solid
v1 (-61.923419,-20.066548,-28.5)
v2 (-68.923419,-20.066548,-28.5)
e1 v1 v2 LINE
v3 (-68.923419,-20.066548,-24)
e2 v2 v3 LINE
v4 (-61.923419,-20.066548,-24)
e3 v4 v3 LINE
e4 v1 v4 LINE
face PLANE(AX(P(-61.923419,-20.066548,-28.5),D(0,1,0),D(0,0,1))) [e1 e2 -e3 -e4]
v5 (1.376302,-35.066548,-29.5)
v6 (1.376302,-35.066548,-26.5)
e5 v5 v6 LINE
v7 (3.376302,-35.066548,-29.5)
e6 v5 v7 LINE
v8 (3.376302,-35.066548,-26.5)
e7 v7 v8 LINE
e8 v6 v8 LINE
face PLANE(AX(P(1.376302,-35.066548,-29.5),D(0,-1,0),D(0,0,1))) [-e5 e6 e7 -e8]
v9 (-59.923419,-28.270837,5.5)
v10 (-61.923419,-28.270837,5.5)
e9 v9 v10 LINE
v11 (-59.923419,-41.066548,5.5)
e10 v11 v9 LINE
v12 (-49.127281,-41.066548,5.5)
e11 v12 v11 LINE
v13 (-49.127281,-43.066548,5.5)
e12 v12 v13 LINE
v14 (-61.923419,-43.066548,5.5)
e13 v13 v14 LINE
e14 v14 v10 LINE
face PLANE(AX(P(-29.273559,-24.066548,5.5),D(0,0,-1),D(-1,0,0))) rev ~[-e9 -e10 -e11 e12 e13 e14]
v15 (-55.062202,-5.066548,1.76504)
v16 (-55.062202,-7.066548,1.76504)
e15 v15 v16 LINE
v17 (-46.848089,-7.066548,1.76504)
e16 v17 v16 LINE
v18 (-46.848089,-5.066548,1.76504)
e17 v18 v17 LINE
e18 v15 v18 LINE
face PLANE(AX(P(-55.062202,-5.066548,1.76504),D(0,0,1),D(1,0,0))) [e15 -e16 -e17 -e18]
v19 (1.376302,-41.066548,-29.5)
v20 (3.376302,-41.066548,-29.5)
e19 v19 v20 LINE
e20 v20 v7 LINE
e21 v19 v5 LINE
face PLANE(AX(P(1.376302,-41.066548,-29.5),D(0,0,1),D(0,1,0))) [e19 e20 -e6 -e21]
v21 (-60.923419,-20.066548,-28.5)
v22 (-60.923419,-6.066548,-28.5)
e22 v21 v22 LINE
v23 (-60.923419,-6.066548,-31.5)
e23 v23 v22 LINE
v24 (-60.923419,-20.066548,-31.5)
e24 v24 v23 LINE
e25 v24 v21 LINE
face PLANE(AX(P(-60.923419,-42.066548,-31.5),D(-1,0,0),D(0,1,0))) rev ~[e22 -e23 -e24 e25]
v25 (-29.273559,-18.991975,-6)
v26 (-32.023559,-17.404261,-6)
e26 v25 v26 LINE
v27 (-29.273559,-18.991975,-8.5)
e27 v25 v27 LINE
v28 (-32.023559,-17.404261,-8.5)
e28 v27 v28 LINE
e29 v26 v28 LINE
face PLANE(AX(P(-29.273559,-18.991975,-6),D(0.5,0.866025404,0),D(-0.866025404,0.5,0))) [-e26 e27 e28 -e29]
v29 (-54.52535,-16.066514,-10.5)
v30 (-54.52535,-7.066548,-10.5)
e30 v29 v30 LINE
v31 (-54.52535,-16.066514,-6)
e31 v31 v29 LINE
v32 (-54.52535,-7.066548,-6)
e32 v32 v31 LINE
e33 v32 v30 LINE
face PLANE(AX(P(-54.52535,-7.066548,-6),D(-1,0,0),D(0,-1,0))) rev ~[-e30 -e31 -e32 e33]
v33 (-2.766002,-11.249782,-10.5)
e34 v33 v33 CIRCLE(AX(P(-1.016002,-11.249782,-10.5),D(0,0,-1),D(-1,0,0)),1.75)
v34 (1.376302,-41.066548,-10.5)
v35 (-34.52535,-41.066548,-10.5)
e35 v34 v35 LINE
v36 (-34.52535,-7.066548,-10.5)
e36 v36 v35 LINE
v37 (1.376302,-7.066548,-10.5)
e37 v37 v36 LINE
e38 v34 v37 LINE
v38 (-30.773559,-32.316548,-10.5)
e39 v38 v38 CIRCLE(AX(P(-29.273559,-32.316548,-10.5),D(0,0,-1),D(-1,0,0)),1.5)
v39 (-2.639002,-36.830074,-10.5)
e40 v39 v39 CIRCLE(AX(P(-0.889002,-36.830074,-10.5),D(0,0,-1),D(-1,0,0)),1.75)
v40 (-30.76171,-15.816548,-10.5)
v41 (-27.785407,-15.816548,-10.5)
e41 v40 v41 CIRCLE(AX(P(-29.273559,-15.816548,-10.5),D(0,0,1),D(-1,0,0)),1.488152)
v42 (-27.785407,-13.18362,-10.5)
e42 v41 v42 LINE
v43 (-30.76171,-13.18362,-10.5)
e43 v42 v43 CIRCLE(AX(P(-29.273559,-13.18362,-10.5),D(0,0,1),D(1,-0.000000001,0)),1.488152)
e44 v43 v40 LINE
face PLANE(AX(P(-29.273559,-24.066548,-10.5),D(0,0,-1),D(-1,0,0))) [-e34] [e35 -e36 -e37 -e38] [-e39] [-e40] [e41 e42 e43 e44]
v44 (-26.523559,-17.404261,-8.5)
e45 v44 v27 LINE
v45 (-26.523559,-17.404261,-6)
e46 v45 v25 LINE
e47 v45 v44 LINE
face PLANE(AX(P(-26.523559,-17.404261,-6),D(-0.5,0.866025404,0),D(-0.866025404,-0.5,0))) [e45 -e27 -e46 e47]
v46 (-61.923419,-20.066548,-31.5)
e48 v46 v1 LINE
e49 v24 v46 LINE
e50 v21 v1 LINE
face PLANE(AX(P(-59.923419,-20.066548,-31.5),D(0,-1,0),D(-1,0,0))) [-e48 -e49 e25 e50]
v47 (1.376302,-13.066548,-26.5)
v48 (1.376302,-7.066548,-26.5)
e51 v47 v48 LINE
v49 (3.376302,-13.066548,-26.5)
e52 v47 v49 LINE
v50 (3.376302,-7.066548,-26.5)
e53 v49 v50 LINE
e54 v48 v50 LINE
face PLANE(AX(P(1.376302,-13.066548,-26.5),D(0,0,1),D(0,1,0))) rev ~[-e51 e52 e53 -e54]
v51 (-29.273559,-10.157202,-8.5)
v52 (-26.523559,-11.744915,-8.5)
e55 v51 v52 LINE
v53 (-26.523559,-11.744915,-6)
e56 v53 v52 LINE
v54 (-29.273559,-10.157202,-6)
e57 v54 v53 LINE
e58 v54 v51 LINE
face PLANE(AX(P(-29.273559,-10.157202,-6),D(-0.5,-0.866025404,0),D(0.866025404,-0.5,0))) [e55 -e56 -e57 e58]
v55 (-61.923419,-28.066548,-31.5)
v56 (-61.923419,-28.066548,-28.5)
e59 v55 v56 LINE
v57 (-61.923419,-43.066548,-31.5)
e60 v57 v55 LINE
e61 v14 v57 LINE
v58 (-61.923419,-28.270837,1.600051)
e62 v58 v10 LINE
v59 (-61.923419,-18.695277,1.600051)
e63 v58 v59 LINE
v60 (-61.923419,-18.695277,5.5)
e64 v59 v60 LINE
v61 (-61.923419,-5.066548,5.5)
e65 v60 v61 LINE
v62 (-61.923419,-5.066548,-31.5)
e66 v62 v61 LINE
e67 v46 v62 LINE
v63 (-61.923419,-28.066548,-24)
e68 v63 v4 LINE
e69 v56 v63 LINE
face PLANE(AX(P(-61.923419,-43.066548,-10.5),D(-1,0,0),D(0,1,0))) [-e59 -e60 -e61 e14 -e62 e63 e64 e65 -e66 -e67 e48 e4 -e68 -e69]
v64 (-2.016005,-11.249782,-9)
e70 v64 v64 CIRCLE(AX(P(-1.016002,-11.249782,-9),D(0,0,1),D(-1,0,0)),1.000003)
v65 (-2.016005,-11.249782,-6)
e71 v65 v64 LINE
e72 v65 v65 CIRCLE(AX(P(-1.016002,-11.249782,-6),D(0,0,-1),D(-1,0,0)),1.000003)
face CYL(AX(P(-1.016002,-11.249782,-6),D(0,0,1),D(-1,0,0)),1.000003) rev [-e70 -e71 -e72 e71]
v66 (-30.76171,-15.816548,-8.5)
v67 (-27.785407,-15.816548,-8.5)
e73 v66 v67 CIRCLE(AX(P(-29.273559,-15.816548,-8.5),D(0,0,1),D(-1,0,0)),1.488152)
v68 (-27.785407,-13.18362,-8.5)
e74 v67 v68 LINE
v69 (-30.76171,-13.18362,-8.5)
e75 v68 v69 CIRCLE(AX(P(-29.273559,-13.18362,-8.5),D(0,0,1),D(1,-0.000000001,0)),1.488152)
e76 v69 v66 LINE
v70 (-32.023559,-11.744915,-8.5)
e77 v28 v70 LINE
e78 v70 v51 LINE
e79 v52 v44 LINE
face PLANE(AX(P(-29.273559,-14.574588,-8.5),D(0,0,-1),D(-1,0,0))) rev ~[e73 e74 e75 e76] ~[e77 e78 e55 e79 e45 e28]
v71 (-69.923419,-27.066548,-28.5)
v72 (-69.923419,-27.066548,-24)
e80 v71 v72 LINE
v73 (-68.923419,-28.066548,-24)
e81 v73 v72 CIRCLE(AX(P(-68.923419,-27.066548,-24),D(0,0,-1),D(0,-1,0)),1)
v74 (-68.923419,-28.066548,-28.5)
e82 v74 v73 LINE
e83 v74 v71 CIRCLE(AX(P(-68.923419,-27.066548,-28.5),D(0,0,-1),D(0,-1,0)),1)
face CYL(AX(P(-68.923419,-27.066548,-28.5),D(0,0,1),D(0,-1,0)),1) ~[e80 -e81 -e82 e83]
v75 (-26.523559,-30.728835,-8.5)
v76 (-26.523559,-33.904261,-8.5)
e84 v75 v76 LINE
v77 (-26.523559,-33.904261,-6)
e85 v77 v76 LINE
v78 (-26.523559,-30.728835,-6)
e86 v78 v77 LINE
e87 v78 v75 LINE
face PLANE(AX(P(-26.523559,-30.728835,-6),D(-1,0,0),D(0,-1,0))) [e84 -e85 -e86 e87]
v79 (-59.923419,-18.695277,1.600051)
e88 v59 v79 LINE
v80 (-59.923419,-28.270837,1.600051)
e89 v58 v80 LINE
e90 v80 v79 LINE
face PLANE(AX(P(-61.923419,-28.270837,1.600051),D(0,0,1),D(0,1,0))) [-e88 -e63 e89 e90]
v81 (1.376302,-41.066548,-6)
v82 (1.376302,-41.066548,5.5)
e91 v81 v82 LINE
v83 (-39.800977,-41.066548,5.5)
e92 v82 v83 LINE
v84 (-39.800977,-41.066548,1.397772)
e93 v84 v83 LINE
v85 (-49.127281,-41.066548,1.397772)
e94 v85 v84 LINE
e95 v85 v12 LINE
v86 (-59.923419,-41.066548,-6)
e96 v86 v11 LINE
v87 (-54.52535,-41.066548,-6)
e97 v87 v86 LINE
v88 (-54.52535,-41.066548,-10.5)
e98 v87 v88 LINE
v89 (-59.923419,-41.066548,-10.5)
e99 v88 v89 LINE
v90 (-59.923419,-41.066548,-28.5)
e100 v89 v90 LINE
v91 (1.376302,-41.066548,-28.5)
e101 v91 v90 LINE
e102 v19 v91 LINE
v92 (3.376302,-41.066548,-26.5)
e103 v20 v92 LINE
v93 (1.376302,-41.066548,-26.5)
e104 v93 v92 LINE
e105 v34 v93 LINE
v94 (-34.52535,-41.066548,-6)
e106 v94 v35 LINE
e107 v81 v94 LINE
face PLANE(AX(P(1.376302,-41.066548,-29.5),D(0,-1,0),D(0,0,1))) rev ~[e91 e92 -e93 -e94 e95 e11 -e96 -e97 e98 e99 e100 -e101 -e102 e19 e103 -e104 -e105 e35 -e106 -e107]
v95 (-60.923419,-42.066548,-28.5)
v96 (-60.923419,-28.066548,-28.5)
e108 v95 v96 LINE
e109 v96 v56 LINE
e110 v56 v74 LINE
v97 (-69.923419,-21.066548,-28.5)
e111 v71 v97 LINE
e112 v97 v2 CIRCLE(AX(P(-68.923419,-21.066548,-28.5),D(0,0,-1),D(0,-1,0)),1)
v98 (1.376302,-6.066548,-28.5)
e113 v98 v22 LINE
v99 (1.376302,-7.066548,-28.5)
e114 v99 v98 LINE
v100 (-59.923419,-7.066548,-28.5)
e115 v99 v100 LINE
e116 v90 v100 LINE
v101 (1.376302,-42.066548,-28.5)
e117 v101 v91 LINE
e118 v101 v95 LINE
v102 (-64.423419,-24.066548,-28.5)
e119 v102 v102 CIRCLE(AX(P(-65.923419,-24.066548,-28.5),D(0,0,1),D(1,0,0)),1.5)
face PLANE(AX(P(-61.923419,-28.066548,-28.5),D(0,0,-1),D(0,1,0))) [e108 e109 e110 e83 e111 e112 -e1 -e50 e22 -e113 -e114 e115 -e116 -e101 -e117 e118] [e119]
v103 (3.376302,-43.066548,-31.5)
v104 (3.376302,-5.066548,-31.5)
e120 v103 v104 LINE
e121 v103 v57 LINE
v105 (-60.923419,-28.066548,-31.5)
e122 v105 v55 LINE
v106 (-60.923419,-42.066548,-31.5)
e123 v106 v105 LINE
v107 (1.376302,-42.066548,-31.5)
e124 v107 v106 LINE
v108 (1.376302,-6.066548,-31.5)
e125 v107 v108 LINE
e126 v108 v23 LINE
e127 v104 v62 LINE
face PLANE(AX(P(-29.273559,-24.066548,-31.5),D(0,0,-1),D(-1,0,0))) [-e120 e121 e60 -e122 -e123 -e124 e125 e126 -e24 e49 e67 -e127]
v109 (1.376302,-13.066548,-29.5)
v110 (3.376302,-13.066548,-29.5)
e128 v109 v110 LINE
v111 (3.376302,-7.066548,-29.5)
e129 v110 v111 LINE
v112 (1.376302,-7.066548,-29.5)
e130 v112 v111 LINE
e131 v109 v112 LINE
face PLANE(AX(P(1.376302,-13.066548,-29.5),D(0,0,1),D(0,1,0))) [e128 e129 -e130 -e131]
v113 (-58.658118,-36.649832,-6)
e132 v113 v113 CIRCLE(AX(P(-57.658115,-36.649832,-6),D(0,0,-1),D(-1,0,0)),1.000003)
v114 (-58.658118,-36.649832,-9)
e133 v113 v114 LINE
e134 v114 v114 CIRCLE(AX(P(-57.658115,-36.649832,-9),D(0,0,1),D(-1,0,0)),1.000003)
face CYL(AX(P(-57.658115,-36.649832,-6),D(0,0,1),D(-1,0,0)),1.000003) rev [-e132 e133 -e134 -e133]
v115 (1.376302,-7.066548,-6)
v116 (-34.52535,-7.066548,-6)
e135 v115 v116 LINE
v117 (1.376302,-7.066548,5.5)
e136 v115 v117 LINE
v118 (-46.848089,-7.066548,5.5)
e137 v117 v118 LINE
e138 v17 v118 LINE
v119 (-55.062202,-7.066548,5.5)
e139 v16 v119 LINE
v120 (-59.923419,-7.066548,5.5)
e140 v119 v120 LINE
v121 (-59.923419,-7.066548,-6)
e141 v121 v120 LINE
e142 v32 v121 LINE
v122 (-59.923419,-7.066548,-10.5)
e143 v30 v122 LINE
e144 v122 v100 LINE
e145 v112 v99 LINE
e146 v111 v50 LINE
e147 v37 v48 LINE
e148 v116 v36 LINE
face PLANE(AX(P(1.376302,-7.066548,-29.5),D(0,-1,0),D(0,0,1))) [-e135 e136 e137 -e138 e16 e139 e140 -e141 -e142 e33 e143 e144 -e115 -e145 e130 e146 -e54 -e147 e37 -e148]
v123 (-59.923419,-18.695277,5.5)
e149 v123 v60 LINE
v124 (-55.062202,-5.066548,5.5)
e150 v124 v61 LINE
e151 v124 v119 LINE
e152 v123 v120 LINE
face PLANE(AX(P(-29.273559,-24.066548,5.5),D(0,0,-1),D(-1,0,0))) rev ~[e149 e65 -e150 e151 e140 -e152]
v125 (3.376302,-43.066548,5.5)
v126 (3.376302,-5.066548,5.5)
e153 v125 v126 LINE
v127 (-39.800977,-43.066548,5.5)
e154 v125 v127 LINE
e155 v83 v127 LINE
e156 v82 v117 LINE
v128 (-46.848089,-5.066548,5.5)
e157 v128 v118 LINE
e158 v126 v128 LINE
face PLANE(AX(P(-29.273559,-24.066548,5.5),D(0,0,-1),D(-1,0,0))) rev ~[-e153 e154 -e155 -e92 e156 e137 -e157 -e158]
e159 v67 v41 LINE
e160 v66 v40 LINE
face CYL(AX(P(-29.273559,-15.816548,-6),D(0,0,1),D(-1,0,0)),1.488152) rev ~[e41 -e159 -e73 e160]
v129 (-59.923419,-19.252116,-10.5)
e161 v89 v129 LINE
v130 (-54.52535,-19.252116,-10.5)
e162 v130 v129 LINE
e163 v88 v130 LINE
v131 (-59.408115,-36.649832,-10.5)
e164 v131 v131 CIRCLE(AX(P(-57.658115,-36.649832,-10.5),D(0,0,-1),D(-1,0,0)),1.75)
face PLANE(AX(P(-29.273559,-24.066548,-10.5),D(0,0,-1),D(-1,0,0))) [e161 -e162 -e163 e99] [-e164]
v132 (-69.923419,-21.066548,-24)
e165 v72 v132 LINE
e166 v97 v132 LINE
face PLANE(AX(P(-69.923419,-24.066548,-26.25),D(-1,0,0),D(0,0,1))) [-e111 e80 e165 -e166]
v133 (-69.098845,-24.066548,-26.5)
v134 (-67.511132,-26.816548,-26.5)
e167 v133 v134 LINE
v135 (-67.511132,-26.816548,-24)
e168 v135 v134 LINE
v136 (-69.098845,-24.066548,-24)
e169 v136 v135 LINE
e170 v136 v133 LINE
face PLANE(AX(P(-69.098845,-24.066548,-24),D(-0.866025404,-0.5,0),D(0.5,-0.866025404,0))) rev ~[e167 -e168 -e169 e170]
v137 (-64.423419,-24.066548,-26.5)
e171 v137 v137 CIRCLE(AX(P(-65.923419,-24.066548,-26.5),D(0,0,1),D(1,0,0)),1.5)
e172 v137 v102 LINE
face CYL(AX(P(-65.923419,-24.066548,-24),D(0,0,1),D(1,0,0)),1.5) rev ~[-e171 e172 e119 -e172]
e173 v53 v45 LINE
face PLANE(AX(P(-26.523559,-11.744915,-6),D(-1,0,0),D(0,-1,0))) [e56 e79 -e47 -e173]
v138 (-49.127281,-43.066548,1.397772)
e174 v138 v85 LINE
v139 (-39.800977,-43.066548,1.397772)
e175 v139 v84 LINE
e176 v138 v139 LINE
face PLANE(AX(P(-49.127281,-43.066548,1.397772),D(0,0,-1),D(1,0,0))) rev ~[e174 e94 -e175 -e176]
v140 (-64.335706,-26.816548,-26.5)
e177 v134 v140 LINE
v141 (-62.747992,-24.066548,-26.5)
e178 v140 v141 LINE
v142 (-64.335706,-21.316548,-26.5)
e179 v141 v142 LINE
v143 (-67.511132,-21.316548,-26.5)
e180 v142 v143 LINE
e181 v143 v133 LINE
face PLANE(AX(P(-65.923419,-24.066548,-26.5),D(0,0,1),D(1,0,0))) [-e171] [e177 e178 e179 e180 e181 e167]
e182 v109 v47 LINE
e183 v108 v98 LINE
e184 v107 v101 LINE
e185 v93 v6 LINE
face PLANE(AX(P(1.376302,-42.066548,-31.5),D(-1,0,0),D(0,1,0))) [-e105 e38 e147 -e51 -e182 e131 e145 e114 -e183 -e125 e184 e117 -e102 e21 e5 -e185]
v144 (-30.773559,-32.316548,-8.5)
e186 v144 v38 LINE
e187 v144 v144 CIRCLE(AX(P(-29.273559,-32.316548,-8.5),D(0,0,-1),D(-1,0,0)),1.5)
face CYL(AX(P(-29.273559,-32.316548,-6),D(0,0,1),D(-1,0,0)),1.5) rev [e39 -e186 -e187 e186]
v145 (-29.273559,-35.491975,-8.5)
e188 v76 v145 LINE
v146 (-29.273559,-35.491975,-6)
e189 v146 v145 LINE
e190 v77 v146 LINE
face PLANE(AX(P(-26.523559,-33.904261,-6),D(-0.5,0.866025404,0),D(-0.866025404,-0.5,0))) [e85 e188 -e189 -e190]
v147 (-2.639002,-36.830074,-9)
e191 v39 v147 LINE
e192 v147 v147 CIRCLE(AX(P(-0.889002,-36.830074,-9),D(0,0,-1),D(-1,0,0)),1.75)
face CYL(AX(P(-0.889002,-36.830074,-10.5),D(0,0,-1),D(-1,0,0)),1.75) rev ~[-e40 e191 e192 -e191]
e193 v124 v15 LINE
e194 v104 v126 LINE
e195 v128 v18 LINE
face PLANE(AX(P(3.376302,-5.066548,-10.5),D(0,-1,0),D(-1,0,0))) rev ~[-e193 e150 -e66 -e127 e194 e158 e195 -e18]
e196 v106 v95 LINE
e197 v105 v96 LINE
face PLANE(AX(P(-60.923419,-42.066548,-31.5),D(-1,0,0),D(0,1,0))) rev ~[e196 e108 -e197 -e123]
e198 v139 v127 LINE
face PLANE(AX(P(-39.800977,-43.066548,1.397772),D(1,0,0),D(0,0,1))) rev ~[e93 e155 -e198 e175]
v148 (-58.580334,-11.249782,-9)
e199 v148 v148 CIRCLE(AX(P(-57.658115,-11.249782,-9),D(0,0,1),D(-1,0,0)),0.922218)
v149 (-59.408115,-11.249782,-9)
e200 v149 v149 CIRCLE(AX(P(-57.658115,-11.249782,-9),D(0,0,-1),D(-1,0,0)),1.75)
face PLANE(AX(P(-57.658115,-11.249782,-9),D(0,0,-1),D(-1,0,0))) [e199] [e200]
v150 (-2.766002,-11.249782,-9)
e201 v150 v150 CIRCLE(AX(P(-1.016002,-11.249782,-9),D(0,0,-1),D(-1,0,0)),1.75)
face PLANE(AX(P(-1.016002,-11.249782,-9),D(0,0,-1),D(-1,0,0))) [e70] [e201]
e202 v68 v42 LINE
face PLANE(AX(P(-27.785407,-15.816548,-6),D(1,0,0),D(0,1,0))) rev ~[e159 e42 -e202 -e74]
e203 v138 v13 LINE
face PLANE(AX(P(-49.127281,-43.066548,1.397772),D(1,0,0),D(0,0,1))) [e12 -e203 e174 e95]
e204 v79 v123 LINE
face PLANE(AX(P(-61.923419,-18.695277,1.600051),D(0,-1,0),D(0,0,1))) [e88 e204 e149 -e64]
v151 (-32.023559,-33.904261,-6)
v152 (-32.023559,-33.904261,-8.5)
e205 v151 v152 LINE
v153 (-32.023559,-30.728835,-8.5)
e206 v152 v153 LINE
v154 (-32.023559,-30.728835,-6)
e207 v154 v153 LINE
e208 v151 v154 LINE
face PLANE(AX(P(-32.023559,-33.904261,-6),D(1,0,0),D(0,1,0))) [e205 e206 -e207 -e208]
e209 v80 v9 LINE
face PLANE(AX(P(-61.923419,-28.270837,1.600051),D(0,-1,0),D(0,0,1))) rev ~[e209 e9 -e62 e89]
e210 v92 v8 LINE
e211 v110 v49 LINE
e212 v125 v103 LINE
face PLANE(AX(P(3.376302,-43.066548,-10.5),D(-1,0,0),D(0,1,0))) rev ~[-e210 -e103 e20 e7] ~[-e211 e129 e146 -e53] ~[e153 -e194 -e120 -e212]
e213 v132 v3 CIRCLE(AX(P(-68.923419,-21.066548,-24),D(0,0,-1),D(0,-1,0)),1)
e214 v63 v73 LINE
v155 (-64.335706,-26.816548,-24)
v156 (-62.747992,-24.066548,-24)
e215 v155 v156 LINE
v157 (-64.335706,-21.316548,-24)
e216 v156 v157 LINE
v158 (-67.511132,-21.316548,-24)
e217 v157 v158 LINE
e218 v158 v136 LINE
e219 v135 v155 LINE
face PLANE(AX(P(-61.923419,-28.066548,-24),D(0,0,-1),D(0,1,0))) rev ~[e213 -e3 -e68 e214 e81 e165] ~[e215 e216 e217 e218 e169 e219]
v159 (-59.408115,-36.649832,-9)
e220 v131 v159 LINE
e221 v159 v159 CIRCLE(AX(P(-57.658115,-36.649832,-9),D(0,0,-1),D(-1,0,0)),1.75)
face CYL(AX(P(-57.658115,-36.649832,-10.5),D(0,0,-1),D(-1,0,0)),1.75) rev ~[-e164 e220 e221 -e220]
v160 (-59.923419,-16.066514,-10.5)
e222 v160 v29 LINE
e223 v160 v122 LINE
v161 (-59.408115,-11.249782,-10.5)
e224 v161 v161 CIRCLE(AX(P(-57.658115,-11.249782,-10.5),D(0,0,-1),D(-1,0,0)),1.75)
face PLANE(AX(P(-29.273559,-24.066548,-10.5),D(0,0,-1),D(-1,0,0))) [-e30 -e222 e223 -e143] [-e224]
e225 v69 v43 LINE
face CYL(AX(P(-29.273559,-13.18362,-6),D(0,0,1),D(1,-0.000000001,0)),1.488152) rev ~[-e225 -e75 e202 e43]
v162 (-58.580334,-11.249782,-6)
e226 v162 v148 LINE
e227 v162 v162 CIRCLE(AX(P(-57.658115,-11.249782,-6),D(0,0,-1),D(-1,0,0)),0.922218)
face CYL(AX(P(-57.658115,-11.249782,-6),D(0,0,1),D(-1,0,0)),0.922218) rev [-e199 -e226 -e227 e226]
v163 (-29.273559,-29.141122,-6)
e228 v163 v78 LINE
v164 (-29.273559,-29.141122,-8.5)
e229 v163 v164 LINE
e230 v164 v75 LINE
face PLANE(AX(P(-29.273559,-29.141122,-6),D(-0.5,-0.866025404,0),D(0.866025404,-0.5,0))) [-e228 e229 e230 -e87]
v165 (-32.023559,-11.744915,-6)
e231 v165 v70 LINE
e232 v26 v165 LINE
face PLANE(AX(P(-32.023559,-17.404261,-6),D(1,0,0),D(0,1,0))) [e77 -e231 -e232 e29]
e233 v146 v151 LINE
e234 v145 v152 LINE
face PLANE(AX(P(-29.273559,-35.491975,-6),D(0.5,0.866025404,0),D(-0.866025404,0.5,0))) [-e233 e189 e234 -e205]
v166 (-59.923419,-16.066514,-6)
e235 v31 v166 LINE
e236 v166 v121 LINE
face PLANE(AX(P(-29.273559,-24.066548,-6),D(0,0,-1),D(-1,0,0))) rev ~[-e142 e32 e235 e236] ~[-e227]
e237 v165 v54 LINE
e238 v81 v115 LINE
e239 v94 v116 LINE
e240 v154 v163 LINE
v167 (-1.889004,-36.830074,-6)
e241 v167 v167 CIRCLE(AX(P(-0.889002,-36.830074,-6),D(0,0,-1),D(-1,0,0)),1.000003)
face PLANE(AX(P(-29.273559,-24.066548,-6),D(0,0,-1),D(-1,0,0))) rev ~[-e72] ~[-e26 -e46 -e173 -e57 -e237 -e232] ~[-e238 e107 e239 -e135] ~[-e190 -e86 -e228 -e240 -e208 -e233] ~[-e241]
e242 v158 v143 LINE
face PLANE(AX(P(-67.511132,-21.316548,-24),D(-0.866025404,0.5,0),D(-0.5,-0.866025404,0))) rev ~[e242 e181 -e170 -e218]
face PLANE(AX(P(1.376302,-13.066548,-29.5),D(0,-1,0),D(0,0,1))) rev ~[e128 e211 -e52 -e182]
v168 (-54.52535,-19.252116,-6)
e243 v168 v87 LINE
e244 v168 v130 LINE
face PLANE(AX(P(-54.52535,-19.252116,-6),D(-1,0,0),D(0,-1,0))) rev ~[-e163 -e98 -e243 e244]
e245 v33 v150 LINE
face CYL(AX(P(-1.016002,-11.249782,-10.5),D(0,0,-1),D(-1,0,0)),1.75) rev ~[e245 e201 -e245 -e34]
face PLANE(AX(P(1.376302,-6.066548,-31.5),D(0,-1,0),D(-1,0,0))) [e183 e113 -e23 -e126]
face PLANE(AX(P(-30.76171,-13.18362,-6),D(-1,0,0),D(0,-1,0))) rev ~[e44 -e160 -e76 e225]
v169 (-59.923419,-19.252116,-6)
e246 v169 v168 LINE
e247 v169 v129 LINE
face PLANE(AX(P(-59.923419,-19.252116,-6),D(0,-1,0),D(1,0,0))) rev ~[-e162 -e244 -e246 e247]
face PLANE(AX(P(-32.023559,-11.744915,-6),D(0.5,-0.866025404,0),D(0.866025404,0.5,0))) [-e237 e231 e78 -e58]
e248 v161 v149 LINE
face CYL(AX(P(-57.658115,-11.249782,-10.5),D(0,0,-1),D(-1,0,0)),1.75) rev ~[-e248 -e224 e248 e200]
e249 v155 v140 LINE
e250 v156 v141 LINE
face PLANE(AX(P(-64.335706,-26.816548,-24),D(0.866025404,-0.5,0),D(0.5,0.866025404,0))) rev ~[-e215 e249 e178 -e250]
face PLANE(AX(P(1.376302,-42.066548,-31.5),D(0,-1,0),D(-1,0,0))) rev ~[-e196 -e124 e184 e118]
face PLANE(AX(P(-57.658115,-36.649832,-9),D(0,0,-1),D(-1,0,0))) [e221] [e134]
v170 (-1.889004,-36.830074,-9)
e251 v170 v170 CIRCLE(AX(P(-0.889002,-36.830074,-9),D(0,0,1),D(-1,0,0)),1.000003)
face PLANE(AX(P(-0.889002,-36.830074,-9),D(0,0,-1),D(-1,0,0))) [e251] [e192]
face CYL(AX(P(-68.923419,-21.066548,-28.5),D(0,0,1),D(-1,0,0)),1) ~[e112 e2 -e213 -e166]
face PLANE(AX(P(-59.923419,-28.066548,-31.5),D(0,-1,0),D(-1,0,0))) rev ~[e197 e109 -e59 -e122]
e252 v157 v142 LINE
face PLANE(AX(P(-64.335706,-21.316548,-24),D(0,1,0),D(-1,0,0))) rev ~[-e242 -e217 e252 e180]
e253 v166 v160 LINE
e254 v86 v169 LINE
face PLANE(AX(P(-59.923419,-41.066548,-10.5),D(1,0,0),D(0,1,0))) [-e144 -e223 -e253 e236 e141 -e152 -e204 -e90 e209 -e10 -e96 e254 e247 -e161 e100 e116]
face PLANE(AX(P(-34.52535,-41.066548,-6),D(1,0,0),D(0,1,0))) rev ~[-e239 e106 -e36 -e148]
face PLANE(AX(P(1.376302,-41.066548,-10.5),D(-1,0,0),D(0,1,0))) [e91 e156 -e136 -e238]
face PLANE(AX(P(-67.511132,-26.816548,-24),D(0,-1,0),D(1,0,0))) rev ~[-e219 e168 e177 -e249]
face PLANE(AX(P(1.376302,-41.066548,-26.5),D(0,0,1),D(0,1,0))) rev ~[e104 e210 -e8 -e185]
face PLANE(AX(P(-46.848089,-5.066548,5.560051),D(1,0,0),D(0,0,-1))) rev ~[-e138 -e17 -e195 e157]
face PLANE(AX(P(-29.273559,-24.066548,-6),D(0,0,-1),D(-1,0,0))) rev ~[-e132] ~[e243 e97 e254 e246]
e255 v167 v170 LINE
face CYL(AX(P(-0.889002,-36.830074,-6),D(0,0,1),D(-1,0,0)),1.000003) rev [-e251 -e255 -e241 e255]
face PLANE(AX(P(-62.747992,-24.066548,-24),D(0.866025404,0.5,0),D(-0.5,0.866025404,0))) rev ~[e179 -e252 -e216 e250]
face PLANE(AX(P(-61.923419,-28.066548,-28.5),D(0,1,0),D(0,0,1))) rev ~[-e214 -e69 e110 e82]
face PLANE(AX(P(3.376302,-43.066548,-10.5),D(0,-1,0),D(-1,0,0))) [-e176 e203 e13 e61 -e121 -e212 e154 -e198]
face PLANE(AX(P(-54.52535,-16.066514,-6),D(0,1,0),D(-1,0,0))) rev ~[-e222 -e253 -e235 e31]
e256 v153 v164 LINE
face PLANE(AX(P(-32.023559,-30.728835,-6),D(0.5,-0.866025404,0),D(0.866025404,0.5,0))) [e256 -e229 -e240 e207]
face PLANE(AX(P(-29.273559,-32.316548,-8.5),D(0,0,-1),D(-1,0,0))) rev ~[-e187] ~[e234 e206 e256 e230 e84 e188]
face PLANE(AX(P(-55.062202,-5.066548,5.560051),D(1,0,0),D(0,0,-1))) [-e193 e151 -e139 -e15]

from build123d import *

# Parameters (mm, degrees)
SKETCH_2_W           = 65.2997206
SKETCH_2_H           = 38
SKETCH_2_R           = 1.00000254
SKETCH_2_R_2         = 0.922218434
SKETCH_2_R_3         = 1.5
EXTRUDE_2_DEPTH      = 4.5
SKETCH_3_R           = 1.5
CUT_EXTRUDE_2_DEPTH  = 2.5
SKETCH_5_W           = 65.2997206
SKETCH_5_H           = 38
SKETCH_5_W_2         = 61.2997206
SKETCH_5_H_2         = 34
EXTRUDE_3_DEPTH      = 21
EXTRUDE_3_DEPTH_BACK = 16
SKETCH_7_W           = 8.214112973
SKETCH_7_H           = 3.795011114
CUT_EXTRUDE_4_DEPTH  = 3
SKETCH_8_W           = 4
SKETCH_8_H           = 9.575559499
CUT_EXTRUDE_5_DEPTH  = 3
SKETCH_9_W           = 9.326303795
SKETCH_9_H           = 4.202278939
CUT_EXTRUDE_6_DEPTH  = 3
CUT_EXTRUDE_7_DEPTH  = 10
SKETCH_15_R          = 1.75
CUT_EXTRUDE_8_DEPTH  = 1.5
SKETCH_18_W          = 62.2997206
SKETCH_18_H          = 36
CUT_EXTRUDE_9_DEPTH  = 3
SKETCH_19_W          = 3
SKETCH_19_H          = 6
CUT_EXTRUDE_10_DEPTH = 2
SKETCH_20_W          = 2
SKETCH_20_H          = 8
CUT_EXTRUDE_11_DEPTH = 3
SKETCH_21_W          = 4.5
SKETCH_21_H          = 8
EXTRUDE_4_DEPTH      = 8
SKETCH_22_R          = 1.5
CUT_EXTRUDE_12_DEPTH = 10
CUT_EXTRUDE_13_DEPTH = 2.5
FILLET_1_R           = 1


with BuildPart() as part:
    # 草图2 → 凸台-拉伸2 (new body)
    with BuildSketch(Plane(origin=(0, 0, -6), x_dir=(-1, 0, 0), z_dir=(0, 0, -1))):
        with Locations((29.273558547, -24.066548133)):
            Rectangle(SKETCH_2_W, SKETCH_2_H)
        with Locations((1.016002032, -11.24978156)):
            Circle(SKETCH_2_R, mode=Mode.SUBTRACT)
        with Locations((0.889001778, -36.83007366)):
            Circle(SKETCH_2_R, mode=Mode.SUBTRACT)
        with Locations((57.658115316, -36.64983236)):
            Circle(SKETCH_2_R, mode=Mode.SUBTRACT)
        with Locations((57.658115316, -11.24978156)):
            Circle(SKETCH_2_R_2, mode=Mode.SUBTRACT)
        with Locations((29.273558547, -32.316548133)):
            Circle(SKETCH_2_R_3, mode=Mode.SUBTRACT)
        with BuildLine():
            Line((27.785407033, -15.816548133), (27.785407033, -13.183619987))
            ThreePointArc((27.785407033, -13.183619987), (29.273558547, -11.695468472), (30.761710061, -13.183619987))
            Line((30.761710061, -13.183619987), (30.761710061, -15.816548133))
            ThreePointArc((30.761710061, -15.816548133), (29.273558547, -17.304699647), (27.785407033, -15.816548133))
        make_face(mode=Mode.SUBTRACT)
    extrude(amount=EXTRUDE_2_DEPTH)

    # 草图3 → 切除-拉伸2 (cut)
    with BuildSketch(Plane(origin=(0, 0, -6), x_dir=(-1, 0, 0), z_dir=(0, 0, -1))):
        Polygon((29.273558547, -18.991974614), (32.023558547, -17.404261373), (32.023558547, -14.920341582), (32.023558547, -14.228834893), (32.023558547, -11.744915102), (29.273558547, -10.157201862), (26.523558547, -11.744915102), (26.523558547, -14.228834893), (26.523558547, -14.920341582), (26.523558547, -17.404261373), align=None)
        with BuildLine():
            ThreePointArc((30.761710061, -15.816548133), (29.273558547, -17.304699647), (27.785407033, -15.816548133))
            Line((27.785407033, -15.816548133), (27.785407033, -13.183619987))
            ThreePointArc((27.785407033, -13.183619987), (29.273558547, -11.695468472), (30.761710061, -13.183619987))
            Line((30.761710061, -13.183619987), (30.761710061, -15.816548133))
        make_face(mode=Mode.SUBTRACT)
        Polygon((26.523558547, -30.728834893), (26.523558547, -33.904261373), (29.273558547, -35.491974614), (32.023558547, -33.904261373), (32.023558547, -30.728834893), (29.273558547, -29.141121653), align=None)
        with Locations((29.273558547, -32.316548133)):
            Circle(SKETCH_3_R, mode=Mode.SUBTRACT)
    extrude(amount=CUT_EXTRUDE_2_DEPTH, mode=Mode.SUBTRACT)

    # 草图5 → 凸台-拉伸3 (add, two sides)
    with BuildSketch(Plane(origin=(0, 0, -10.5), x_dir=(-1, 0, 0), z_dir=(0, 0, -1))) as extrude_3_sk:
        with Locations((29.273558547, -24.066548133)):
            Rectangle(SKETCH_5_W, SKETCH_5_H)
        with Locations((29.273558547, -24.066548133)):
            Rectangle(SKETCH_5_W_2, SKETCH_5_H_2, mode=Mode.SUBTRACT)
    extrude(amount=EXTRUDE_3_DEPTH)
    extrude(extrude_3_sk.sketch, amount=-EXTRUDE_3_DEPTH_BACK)

    # 草图7 → 切除-拉伸4 (cut)
    with BuildSketch(Plane(origin=(0, -5.066548133, 0), x_dir=(1, 0, 0), z_dir=(0, 1, 0))):
        with Locations((-50.955145133, -3.662545243)):
            Rectangle(SKETCH_7_W, SKETCH_7_H)
    extrude(amount=-CUT_EXTRUDE_4_DEPTH, mode=Mode.SUBTRACT)

    # 草图8 → 切除-拉伸5 (cut)
    with BuildSketch(Plane.ZY.offset(61.923418847)):
        with Locations((3.6000508, -23.483057223)):
            Rectangle(SKETCH_8_W, SKETCH_8_H)
    extrude(amount=-CUT_EXTRUDE_5_DEPTH, mode=Mode.SUBTRACT)

    # 草图9 → 切除-拉伸6 (cut)
    with BuildSketch(Plane.XZ.offset(43.066548133)):
        with Locations((-44.464129124, 3.49891133)):
            Rectangle(SKETCH_9_W, SKETCH_9_H)
    extrude(amount=-CUT_EXTRUDE_6_DEPTH, mode=Mode.SUBTRACT)

    # 草图13 → 切除-拉伸7 (cut)
    with BuildSketch(Plane.XY.offset(-6)):
        Polygon((-59.923418847, -16.066514367), (-59.923418847, -19.252115931), (-54.525349934, -19.252115931), (-54.525349934, -41.066548133), (-34.525349934, -41.066548133), (-34.525349934, -7.066548133), (-54.525349934, -7.066548133), (-54.525349934, -12.880912803), (-54.525349934, -16.066514367), align=None)
    extrude(amount=-CUT_EXTRUDE_7_DEPTH, mode=Mode.SUBTRACT)

    # 草图15 → 切除-拉伸8 (cut)
    with BuildSketch(Plane(origin=(0, 0, -10.5), x_dir=(-1, 0, 0), z_dir=(0, 0, -1))):
        with Locations((1.016002032, -11.24978156)):
            Circle(SKETCH_15_R)
        with Locations((57.658115316, -11.24978156)):
            Circle(SKETCH_15_R)
        with Locations((0.889001778, -36.83007366)):
            Circle(SKETCH_15_R)
        with Locations((57.658115316, -36.64983236)):
            Circle(SKETCH_15_R)
    extrude(amount=-CUT_EXTRUDE_8_DEPTH, mode=Mode.SUBTRACT)

    # 草图18 → 切除-拉伸9 (cut)
    with BuildSketch(Plane(origin=(0, 0, -31.5), x_dir=(-1, 0, 0), z_dir=(0, 0, -1))):
        with Locations((29.773558547, -24.066548133)):
            Rectangle(SKETCH_18_W, SKETCH_18_H)
    extrude(amount=-CUT_EXTRUDE_9_DEPTH, mode=Mode.SUBTRACT)

    # 草图19 → 切除-拉伸10 (cut)
    with BuildSketch(Plane.ZY.offset(-1.376301753)):
        with Locations((-28, -10.066548133)):
            Rectangle(SKETCH_19_W, SKETCH_19_H)
        with Locations((-28, -38.066548133)):
            Rectangle(SKETCH_19_W, SKETCH_19_H)
    extrude(amount=-CUT_EXTRUDE_10_DEPTH, mode=Mode.SUBTRACT)

    # 草图20 → 切除-拉伸11 (cut)
    with BuildSketch(Plane(origin=(0, 0, -31.5), x_dir=(-1, 0, 0), z_dir=(0, 0, -1))):
        with Locations((60.923418847, -24.066548133)):
            Rectangle(SKETCH_20_W, SKETCH_20_H)
    extrude(amount=-CUT_EXTRUDE_11_DEPTH, mode=Mode.SUBTRACT)

    # 草图21 → 凸台-拉伸4 (add)
    with BuildSketch(Plane.ZY.offset(61.923418847)):
        with Locations((-26.25, -24.066548133)):
            Rectangle(SKETCH_21_W, SKETCH_21_H)
    extrude(amount=EXTRUDE_4_DEPTH)

    # 草图22 → 切除-拉伸12 (cut)
    with BuildSketch(Plane.XY.offset(-24)):
        with Locations((-65.923418847, -24.066548133)):
            Circle(SKETCH_22_R)
    extrude(amount=-CUT_EXTRUDE_12_DEPTH, mode=Mode.SUBTRACT)

    # 草图23 → 切除-拉伸13 (cut)
    with BuildSketch(Plane.XY.offset(-24)):
        Polygon((-64.335705607, -26.816548133), (-62.747992366, -24.066548133), (-64.335705607, -21.316548133), (-67.511132087, -21.316548133), (-69.098845327, -24.066548133), (-67.511132087, -26.816548133), align=None)
    extrude(amount=-CUT_EXTRUDE_13_DEPTH, mode=Mode.SUBTRACT)

    # 圆角1
    fillet_1_edges = [part.edges().sort_by_distance(p)[0] for p in [
        (-69.923418847, -28.066548133, -26.25),
        (-69.923418847, -20.066548133, -26.25),
    ]]
    fillet(fillet_1_edges, radius=FILLET_1_R)


solid = part.part
